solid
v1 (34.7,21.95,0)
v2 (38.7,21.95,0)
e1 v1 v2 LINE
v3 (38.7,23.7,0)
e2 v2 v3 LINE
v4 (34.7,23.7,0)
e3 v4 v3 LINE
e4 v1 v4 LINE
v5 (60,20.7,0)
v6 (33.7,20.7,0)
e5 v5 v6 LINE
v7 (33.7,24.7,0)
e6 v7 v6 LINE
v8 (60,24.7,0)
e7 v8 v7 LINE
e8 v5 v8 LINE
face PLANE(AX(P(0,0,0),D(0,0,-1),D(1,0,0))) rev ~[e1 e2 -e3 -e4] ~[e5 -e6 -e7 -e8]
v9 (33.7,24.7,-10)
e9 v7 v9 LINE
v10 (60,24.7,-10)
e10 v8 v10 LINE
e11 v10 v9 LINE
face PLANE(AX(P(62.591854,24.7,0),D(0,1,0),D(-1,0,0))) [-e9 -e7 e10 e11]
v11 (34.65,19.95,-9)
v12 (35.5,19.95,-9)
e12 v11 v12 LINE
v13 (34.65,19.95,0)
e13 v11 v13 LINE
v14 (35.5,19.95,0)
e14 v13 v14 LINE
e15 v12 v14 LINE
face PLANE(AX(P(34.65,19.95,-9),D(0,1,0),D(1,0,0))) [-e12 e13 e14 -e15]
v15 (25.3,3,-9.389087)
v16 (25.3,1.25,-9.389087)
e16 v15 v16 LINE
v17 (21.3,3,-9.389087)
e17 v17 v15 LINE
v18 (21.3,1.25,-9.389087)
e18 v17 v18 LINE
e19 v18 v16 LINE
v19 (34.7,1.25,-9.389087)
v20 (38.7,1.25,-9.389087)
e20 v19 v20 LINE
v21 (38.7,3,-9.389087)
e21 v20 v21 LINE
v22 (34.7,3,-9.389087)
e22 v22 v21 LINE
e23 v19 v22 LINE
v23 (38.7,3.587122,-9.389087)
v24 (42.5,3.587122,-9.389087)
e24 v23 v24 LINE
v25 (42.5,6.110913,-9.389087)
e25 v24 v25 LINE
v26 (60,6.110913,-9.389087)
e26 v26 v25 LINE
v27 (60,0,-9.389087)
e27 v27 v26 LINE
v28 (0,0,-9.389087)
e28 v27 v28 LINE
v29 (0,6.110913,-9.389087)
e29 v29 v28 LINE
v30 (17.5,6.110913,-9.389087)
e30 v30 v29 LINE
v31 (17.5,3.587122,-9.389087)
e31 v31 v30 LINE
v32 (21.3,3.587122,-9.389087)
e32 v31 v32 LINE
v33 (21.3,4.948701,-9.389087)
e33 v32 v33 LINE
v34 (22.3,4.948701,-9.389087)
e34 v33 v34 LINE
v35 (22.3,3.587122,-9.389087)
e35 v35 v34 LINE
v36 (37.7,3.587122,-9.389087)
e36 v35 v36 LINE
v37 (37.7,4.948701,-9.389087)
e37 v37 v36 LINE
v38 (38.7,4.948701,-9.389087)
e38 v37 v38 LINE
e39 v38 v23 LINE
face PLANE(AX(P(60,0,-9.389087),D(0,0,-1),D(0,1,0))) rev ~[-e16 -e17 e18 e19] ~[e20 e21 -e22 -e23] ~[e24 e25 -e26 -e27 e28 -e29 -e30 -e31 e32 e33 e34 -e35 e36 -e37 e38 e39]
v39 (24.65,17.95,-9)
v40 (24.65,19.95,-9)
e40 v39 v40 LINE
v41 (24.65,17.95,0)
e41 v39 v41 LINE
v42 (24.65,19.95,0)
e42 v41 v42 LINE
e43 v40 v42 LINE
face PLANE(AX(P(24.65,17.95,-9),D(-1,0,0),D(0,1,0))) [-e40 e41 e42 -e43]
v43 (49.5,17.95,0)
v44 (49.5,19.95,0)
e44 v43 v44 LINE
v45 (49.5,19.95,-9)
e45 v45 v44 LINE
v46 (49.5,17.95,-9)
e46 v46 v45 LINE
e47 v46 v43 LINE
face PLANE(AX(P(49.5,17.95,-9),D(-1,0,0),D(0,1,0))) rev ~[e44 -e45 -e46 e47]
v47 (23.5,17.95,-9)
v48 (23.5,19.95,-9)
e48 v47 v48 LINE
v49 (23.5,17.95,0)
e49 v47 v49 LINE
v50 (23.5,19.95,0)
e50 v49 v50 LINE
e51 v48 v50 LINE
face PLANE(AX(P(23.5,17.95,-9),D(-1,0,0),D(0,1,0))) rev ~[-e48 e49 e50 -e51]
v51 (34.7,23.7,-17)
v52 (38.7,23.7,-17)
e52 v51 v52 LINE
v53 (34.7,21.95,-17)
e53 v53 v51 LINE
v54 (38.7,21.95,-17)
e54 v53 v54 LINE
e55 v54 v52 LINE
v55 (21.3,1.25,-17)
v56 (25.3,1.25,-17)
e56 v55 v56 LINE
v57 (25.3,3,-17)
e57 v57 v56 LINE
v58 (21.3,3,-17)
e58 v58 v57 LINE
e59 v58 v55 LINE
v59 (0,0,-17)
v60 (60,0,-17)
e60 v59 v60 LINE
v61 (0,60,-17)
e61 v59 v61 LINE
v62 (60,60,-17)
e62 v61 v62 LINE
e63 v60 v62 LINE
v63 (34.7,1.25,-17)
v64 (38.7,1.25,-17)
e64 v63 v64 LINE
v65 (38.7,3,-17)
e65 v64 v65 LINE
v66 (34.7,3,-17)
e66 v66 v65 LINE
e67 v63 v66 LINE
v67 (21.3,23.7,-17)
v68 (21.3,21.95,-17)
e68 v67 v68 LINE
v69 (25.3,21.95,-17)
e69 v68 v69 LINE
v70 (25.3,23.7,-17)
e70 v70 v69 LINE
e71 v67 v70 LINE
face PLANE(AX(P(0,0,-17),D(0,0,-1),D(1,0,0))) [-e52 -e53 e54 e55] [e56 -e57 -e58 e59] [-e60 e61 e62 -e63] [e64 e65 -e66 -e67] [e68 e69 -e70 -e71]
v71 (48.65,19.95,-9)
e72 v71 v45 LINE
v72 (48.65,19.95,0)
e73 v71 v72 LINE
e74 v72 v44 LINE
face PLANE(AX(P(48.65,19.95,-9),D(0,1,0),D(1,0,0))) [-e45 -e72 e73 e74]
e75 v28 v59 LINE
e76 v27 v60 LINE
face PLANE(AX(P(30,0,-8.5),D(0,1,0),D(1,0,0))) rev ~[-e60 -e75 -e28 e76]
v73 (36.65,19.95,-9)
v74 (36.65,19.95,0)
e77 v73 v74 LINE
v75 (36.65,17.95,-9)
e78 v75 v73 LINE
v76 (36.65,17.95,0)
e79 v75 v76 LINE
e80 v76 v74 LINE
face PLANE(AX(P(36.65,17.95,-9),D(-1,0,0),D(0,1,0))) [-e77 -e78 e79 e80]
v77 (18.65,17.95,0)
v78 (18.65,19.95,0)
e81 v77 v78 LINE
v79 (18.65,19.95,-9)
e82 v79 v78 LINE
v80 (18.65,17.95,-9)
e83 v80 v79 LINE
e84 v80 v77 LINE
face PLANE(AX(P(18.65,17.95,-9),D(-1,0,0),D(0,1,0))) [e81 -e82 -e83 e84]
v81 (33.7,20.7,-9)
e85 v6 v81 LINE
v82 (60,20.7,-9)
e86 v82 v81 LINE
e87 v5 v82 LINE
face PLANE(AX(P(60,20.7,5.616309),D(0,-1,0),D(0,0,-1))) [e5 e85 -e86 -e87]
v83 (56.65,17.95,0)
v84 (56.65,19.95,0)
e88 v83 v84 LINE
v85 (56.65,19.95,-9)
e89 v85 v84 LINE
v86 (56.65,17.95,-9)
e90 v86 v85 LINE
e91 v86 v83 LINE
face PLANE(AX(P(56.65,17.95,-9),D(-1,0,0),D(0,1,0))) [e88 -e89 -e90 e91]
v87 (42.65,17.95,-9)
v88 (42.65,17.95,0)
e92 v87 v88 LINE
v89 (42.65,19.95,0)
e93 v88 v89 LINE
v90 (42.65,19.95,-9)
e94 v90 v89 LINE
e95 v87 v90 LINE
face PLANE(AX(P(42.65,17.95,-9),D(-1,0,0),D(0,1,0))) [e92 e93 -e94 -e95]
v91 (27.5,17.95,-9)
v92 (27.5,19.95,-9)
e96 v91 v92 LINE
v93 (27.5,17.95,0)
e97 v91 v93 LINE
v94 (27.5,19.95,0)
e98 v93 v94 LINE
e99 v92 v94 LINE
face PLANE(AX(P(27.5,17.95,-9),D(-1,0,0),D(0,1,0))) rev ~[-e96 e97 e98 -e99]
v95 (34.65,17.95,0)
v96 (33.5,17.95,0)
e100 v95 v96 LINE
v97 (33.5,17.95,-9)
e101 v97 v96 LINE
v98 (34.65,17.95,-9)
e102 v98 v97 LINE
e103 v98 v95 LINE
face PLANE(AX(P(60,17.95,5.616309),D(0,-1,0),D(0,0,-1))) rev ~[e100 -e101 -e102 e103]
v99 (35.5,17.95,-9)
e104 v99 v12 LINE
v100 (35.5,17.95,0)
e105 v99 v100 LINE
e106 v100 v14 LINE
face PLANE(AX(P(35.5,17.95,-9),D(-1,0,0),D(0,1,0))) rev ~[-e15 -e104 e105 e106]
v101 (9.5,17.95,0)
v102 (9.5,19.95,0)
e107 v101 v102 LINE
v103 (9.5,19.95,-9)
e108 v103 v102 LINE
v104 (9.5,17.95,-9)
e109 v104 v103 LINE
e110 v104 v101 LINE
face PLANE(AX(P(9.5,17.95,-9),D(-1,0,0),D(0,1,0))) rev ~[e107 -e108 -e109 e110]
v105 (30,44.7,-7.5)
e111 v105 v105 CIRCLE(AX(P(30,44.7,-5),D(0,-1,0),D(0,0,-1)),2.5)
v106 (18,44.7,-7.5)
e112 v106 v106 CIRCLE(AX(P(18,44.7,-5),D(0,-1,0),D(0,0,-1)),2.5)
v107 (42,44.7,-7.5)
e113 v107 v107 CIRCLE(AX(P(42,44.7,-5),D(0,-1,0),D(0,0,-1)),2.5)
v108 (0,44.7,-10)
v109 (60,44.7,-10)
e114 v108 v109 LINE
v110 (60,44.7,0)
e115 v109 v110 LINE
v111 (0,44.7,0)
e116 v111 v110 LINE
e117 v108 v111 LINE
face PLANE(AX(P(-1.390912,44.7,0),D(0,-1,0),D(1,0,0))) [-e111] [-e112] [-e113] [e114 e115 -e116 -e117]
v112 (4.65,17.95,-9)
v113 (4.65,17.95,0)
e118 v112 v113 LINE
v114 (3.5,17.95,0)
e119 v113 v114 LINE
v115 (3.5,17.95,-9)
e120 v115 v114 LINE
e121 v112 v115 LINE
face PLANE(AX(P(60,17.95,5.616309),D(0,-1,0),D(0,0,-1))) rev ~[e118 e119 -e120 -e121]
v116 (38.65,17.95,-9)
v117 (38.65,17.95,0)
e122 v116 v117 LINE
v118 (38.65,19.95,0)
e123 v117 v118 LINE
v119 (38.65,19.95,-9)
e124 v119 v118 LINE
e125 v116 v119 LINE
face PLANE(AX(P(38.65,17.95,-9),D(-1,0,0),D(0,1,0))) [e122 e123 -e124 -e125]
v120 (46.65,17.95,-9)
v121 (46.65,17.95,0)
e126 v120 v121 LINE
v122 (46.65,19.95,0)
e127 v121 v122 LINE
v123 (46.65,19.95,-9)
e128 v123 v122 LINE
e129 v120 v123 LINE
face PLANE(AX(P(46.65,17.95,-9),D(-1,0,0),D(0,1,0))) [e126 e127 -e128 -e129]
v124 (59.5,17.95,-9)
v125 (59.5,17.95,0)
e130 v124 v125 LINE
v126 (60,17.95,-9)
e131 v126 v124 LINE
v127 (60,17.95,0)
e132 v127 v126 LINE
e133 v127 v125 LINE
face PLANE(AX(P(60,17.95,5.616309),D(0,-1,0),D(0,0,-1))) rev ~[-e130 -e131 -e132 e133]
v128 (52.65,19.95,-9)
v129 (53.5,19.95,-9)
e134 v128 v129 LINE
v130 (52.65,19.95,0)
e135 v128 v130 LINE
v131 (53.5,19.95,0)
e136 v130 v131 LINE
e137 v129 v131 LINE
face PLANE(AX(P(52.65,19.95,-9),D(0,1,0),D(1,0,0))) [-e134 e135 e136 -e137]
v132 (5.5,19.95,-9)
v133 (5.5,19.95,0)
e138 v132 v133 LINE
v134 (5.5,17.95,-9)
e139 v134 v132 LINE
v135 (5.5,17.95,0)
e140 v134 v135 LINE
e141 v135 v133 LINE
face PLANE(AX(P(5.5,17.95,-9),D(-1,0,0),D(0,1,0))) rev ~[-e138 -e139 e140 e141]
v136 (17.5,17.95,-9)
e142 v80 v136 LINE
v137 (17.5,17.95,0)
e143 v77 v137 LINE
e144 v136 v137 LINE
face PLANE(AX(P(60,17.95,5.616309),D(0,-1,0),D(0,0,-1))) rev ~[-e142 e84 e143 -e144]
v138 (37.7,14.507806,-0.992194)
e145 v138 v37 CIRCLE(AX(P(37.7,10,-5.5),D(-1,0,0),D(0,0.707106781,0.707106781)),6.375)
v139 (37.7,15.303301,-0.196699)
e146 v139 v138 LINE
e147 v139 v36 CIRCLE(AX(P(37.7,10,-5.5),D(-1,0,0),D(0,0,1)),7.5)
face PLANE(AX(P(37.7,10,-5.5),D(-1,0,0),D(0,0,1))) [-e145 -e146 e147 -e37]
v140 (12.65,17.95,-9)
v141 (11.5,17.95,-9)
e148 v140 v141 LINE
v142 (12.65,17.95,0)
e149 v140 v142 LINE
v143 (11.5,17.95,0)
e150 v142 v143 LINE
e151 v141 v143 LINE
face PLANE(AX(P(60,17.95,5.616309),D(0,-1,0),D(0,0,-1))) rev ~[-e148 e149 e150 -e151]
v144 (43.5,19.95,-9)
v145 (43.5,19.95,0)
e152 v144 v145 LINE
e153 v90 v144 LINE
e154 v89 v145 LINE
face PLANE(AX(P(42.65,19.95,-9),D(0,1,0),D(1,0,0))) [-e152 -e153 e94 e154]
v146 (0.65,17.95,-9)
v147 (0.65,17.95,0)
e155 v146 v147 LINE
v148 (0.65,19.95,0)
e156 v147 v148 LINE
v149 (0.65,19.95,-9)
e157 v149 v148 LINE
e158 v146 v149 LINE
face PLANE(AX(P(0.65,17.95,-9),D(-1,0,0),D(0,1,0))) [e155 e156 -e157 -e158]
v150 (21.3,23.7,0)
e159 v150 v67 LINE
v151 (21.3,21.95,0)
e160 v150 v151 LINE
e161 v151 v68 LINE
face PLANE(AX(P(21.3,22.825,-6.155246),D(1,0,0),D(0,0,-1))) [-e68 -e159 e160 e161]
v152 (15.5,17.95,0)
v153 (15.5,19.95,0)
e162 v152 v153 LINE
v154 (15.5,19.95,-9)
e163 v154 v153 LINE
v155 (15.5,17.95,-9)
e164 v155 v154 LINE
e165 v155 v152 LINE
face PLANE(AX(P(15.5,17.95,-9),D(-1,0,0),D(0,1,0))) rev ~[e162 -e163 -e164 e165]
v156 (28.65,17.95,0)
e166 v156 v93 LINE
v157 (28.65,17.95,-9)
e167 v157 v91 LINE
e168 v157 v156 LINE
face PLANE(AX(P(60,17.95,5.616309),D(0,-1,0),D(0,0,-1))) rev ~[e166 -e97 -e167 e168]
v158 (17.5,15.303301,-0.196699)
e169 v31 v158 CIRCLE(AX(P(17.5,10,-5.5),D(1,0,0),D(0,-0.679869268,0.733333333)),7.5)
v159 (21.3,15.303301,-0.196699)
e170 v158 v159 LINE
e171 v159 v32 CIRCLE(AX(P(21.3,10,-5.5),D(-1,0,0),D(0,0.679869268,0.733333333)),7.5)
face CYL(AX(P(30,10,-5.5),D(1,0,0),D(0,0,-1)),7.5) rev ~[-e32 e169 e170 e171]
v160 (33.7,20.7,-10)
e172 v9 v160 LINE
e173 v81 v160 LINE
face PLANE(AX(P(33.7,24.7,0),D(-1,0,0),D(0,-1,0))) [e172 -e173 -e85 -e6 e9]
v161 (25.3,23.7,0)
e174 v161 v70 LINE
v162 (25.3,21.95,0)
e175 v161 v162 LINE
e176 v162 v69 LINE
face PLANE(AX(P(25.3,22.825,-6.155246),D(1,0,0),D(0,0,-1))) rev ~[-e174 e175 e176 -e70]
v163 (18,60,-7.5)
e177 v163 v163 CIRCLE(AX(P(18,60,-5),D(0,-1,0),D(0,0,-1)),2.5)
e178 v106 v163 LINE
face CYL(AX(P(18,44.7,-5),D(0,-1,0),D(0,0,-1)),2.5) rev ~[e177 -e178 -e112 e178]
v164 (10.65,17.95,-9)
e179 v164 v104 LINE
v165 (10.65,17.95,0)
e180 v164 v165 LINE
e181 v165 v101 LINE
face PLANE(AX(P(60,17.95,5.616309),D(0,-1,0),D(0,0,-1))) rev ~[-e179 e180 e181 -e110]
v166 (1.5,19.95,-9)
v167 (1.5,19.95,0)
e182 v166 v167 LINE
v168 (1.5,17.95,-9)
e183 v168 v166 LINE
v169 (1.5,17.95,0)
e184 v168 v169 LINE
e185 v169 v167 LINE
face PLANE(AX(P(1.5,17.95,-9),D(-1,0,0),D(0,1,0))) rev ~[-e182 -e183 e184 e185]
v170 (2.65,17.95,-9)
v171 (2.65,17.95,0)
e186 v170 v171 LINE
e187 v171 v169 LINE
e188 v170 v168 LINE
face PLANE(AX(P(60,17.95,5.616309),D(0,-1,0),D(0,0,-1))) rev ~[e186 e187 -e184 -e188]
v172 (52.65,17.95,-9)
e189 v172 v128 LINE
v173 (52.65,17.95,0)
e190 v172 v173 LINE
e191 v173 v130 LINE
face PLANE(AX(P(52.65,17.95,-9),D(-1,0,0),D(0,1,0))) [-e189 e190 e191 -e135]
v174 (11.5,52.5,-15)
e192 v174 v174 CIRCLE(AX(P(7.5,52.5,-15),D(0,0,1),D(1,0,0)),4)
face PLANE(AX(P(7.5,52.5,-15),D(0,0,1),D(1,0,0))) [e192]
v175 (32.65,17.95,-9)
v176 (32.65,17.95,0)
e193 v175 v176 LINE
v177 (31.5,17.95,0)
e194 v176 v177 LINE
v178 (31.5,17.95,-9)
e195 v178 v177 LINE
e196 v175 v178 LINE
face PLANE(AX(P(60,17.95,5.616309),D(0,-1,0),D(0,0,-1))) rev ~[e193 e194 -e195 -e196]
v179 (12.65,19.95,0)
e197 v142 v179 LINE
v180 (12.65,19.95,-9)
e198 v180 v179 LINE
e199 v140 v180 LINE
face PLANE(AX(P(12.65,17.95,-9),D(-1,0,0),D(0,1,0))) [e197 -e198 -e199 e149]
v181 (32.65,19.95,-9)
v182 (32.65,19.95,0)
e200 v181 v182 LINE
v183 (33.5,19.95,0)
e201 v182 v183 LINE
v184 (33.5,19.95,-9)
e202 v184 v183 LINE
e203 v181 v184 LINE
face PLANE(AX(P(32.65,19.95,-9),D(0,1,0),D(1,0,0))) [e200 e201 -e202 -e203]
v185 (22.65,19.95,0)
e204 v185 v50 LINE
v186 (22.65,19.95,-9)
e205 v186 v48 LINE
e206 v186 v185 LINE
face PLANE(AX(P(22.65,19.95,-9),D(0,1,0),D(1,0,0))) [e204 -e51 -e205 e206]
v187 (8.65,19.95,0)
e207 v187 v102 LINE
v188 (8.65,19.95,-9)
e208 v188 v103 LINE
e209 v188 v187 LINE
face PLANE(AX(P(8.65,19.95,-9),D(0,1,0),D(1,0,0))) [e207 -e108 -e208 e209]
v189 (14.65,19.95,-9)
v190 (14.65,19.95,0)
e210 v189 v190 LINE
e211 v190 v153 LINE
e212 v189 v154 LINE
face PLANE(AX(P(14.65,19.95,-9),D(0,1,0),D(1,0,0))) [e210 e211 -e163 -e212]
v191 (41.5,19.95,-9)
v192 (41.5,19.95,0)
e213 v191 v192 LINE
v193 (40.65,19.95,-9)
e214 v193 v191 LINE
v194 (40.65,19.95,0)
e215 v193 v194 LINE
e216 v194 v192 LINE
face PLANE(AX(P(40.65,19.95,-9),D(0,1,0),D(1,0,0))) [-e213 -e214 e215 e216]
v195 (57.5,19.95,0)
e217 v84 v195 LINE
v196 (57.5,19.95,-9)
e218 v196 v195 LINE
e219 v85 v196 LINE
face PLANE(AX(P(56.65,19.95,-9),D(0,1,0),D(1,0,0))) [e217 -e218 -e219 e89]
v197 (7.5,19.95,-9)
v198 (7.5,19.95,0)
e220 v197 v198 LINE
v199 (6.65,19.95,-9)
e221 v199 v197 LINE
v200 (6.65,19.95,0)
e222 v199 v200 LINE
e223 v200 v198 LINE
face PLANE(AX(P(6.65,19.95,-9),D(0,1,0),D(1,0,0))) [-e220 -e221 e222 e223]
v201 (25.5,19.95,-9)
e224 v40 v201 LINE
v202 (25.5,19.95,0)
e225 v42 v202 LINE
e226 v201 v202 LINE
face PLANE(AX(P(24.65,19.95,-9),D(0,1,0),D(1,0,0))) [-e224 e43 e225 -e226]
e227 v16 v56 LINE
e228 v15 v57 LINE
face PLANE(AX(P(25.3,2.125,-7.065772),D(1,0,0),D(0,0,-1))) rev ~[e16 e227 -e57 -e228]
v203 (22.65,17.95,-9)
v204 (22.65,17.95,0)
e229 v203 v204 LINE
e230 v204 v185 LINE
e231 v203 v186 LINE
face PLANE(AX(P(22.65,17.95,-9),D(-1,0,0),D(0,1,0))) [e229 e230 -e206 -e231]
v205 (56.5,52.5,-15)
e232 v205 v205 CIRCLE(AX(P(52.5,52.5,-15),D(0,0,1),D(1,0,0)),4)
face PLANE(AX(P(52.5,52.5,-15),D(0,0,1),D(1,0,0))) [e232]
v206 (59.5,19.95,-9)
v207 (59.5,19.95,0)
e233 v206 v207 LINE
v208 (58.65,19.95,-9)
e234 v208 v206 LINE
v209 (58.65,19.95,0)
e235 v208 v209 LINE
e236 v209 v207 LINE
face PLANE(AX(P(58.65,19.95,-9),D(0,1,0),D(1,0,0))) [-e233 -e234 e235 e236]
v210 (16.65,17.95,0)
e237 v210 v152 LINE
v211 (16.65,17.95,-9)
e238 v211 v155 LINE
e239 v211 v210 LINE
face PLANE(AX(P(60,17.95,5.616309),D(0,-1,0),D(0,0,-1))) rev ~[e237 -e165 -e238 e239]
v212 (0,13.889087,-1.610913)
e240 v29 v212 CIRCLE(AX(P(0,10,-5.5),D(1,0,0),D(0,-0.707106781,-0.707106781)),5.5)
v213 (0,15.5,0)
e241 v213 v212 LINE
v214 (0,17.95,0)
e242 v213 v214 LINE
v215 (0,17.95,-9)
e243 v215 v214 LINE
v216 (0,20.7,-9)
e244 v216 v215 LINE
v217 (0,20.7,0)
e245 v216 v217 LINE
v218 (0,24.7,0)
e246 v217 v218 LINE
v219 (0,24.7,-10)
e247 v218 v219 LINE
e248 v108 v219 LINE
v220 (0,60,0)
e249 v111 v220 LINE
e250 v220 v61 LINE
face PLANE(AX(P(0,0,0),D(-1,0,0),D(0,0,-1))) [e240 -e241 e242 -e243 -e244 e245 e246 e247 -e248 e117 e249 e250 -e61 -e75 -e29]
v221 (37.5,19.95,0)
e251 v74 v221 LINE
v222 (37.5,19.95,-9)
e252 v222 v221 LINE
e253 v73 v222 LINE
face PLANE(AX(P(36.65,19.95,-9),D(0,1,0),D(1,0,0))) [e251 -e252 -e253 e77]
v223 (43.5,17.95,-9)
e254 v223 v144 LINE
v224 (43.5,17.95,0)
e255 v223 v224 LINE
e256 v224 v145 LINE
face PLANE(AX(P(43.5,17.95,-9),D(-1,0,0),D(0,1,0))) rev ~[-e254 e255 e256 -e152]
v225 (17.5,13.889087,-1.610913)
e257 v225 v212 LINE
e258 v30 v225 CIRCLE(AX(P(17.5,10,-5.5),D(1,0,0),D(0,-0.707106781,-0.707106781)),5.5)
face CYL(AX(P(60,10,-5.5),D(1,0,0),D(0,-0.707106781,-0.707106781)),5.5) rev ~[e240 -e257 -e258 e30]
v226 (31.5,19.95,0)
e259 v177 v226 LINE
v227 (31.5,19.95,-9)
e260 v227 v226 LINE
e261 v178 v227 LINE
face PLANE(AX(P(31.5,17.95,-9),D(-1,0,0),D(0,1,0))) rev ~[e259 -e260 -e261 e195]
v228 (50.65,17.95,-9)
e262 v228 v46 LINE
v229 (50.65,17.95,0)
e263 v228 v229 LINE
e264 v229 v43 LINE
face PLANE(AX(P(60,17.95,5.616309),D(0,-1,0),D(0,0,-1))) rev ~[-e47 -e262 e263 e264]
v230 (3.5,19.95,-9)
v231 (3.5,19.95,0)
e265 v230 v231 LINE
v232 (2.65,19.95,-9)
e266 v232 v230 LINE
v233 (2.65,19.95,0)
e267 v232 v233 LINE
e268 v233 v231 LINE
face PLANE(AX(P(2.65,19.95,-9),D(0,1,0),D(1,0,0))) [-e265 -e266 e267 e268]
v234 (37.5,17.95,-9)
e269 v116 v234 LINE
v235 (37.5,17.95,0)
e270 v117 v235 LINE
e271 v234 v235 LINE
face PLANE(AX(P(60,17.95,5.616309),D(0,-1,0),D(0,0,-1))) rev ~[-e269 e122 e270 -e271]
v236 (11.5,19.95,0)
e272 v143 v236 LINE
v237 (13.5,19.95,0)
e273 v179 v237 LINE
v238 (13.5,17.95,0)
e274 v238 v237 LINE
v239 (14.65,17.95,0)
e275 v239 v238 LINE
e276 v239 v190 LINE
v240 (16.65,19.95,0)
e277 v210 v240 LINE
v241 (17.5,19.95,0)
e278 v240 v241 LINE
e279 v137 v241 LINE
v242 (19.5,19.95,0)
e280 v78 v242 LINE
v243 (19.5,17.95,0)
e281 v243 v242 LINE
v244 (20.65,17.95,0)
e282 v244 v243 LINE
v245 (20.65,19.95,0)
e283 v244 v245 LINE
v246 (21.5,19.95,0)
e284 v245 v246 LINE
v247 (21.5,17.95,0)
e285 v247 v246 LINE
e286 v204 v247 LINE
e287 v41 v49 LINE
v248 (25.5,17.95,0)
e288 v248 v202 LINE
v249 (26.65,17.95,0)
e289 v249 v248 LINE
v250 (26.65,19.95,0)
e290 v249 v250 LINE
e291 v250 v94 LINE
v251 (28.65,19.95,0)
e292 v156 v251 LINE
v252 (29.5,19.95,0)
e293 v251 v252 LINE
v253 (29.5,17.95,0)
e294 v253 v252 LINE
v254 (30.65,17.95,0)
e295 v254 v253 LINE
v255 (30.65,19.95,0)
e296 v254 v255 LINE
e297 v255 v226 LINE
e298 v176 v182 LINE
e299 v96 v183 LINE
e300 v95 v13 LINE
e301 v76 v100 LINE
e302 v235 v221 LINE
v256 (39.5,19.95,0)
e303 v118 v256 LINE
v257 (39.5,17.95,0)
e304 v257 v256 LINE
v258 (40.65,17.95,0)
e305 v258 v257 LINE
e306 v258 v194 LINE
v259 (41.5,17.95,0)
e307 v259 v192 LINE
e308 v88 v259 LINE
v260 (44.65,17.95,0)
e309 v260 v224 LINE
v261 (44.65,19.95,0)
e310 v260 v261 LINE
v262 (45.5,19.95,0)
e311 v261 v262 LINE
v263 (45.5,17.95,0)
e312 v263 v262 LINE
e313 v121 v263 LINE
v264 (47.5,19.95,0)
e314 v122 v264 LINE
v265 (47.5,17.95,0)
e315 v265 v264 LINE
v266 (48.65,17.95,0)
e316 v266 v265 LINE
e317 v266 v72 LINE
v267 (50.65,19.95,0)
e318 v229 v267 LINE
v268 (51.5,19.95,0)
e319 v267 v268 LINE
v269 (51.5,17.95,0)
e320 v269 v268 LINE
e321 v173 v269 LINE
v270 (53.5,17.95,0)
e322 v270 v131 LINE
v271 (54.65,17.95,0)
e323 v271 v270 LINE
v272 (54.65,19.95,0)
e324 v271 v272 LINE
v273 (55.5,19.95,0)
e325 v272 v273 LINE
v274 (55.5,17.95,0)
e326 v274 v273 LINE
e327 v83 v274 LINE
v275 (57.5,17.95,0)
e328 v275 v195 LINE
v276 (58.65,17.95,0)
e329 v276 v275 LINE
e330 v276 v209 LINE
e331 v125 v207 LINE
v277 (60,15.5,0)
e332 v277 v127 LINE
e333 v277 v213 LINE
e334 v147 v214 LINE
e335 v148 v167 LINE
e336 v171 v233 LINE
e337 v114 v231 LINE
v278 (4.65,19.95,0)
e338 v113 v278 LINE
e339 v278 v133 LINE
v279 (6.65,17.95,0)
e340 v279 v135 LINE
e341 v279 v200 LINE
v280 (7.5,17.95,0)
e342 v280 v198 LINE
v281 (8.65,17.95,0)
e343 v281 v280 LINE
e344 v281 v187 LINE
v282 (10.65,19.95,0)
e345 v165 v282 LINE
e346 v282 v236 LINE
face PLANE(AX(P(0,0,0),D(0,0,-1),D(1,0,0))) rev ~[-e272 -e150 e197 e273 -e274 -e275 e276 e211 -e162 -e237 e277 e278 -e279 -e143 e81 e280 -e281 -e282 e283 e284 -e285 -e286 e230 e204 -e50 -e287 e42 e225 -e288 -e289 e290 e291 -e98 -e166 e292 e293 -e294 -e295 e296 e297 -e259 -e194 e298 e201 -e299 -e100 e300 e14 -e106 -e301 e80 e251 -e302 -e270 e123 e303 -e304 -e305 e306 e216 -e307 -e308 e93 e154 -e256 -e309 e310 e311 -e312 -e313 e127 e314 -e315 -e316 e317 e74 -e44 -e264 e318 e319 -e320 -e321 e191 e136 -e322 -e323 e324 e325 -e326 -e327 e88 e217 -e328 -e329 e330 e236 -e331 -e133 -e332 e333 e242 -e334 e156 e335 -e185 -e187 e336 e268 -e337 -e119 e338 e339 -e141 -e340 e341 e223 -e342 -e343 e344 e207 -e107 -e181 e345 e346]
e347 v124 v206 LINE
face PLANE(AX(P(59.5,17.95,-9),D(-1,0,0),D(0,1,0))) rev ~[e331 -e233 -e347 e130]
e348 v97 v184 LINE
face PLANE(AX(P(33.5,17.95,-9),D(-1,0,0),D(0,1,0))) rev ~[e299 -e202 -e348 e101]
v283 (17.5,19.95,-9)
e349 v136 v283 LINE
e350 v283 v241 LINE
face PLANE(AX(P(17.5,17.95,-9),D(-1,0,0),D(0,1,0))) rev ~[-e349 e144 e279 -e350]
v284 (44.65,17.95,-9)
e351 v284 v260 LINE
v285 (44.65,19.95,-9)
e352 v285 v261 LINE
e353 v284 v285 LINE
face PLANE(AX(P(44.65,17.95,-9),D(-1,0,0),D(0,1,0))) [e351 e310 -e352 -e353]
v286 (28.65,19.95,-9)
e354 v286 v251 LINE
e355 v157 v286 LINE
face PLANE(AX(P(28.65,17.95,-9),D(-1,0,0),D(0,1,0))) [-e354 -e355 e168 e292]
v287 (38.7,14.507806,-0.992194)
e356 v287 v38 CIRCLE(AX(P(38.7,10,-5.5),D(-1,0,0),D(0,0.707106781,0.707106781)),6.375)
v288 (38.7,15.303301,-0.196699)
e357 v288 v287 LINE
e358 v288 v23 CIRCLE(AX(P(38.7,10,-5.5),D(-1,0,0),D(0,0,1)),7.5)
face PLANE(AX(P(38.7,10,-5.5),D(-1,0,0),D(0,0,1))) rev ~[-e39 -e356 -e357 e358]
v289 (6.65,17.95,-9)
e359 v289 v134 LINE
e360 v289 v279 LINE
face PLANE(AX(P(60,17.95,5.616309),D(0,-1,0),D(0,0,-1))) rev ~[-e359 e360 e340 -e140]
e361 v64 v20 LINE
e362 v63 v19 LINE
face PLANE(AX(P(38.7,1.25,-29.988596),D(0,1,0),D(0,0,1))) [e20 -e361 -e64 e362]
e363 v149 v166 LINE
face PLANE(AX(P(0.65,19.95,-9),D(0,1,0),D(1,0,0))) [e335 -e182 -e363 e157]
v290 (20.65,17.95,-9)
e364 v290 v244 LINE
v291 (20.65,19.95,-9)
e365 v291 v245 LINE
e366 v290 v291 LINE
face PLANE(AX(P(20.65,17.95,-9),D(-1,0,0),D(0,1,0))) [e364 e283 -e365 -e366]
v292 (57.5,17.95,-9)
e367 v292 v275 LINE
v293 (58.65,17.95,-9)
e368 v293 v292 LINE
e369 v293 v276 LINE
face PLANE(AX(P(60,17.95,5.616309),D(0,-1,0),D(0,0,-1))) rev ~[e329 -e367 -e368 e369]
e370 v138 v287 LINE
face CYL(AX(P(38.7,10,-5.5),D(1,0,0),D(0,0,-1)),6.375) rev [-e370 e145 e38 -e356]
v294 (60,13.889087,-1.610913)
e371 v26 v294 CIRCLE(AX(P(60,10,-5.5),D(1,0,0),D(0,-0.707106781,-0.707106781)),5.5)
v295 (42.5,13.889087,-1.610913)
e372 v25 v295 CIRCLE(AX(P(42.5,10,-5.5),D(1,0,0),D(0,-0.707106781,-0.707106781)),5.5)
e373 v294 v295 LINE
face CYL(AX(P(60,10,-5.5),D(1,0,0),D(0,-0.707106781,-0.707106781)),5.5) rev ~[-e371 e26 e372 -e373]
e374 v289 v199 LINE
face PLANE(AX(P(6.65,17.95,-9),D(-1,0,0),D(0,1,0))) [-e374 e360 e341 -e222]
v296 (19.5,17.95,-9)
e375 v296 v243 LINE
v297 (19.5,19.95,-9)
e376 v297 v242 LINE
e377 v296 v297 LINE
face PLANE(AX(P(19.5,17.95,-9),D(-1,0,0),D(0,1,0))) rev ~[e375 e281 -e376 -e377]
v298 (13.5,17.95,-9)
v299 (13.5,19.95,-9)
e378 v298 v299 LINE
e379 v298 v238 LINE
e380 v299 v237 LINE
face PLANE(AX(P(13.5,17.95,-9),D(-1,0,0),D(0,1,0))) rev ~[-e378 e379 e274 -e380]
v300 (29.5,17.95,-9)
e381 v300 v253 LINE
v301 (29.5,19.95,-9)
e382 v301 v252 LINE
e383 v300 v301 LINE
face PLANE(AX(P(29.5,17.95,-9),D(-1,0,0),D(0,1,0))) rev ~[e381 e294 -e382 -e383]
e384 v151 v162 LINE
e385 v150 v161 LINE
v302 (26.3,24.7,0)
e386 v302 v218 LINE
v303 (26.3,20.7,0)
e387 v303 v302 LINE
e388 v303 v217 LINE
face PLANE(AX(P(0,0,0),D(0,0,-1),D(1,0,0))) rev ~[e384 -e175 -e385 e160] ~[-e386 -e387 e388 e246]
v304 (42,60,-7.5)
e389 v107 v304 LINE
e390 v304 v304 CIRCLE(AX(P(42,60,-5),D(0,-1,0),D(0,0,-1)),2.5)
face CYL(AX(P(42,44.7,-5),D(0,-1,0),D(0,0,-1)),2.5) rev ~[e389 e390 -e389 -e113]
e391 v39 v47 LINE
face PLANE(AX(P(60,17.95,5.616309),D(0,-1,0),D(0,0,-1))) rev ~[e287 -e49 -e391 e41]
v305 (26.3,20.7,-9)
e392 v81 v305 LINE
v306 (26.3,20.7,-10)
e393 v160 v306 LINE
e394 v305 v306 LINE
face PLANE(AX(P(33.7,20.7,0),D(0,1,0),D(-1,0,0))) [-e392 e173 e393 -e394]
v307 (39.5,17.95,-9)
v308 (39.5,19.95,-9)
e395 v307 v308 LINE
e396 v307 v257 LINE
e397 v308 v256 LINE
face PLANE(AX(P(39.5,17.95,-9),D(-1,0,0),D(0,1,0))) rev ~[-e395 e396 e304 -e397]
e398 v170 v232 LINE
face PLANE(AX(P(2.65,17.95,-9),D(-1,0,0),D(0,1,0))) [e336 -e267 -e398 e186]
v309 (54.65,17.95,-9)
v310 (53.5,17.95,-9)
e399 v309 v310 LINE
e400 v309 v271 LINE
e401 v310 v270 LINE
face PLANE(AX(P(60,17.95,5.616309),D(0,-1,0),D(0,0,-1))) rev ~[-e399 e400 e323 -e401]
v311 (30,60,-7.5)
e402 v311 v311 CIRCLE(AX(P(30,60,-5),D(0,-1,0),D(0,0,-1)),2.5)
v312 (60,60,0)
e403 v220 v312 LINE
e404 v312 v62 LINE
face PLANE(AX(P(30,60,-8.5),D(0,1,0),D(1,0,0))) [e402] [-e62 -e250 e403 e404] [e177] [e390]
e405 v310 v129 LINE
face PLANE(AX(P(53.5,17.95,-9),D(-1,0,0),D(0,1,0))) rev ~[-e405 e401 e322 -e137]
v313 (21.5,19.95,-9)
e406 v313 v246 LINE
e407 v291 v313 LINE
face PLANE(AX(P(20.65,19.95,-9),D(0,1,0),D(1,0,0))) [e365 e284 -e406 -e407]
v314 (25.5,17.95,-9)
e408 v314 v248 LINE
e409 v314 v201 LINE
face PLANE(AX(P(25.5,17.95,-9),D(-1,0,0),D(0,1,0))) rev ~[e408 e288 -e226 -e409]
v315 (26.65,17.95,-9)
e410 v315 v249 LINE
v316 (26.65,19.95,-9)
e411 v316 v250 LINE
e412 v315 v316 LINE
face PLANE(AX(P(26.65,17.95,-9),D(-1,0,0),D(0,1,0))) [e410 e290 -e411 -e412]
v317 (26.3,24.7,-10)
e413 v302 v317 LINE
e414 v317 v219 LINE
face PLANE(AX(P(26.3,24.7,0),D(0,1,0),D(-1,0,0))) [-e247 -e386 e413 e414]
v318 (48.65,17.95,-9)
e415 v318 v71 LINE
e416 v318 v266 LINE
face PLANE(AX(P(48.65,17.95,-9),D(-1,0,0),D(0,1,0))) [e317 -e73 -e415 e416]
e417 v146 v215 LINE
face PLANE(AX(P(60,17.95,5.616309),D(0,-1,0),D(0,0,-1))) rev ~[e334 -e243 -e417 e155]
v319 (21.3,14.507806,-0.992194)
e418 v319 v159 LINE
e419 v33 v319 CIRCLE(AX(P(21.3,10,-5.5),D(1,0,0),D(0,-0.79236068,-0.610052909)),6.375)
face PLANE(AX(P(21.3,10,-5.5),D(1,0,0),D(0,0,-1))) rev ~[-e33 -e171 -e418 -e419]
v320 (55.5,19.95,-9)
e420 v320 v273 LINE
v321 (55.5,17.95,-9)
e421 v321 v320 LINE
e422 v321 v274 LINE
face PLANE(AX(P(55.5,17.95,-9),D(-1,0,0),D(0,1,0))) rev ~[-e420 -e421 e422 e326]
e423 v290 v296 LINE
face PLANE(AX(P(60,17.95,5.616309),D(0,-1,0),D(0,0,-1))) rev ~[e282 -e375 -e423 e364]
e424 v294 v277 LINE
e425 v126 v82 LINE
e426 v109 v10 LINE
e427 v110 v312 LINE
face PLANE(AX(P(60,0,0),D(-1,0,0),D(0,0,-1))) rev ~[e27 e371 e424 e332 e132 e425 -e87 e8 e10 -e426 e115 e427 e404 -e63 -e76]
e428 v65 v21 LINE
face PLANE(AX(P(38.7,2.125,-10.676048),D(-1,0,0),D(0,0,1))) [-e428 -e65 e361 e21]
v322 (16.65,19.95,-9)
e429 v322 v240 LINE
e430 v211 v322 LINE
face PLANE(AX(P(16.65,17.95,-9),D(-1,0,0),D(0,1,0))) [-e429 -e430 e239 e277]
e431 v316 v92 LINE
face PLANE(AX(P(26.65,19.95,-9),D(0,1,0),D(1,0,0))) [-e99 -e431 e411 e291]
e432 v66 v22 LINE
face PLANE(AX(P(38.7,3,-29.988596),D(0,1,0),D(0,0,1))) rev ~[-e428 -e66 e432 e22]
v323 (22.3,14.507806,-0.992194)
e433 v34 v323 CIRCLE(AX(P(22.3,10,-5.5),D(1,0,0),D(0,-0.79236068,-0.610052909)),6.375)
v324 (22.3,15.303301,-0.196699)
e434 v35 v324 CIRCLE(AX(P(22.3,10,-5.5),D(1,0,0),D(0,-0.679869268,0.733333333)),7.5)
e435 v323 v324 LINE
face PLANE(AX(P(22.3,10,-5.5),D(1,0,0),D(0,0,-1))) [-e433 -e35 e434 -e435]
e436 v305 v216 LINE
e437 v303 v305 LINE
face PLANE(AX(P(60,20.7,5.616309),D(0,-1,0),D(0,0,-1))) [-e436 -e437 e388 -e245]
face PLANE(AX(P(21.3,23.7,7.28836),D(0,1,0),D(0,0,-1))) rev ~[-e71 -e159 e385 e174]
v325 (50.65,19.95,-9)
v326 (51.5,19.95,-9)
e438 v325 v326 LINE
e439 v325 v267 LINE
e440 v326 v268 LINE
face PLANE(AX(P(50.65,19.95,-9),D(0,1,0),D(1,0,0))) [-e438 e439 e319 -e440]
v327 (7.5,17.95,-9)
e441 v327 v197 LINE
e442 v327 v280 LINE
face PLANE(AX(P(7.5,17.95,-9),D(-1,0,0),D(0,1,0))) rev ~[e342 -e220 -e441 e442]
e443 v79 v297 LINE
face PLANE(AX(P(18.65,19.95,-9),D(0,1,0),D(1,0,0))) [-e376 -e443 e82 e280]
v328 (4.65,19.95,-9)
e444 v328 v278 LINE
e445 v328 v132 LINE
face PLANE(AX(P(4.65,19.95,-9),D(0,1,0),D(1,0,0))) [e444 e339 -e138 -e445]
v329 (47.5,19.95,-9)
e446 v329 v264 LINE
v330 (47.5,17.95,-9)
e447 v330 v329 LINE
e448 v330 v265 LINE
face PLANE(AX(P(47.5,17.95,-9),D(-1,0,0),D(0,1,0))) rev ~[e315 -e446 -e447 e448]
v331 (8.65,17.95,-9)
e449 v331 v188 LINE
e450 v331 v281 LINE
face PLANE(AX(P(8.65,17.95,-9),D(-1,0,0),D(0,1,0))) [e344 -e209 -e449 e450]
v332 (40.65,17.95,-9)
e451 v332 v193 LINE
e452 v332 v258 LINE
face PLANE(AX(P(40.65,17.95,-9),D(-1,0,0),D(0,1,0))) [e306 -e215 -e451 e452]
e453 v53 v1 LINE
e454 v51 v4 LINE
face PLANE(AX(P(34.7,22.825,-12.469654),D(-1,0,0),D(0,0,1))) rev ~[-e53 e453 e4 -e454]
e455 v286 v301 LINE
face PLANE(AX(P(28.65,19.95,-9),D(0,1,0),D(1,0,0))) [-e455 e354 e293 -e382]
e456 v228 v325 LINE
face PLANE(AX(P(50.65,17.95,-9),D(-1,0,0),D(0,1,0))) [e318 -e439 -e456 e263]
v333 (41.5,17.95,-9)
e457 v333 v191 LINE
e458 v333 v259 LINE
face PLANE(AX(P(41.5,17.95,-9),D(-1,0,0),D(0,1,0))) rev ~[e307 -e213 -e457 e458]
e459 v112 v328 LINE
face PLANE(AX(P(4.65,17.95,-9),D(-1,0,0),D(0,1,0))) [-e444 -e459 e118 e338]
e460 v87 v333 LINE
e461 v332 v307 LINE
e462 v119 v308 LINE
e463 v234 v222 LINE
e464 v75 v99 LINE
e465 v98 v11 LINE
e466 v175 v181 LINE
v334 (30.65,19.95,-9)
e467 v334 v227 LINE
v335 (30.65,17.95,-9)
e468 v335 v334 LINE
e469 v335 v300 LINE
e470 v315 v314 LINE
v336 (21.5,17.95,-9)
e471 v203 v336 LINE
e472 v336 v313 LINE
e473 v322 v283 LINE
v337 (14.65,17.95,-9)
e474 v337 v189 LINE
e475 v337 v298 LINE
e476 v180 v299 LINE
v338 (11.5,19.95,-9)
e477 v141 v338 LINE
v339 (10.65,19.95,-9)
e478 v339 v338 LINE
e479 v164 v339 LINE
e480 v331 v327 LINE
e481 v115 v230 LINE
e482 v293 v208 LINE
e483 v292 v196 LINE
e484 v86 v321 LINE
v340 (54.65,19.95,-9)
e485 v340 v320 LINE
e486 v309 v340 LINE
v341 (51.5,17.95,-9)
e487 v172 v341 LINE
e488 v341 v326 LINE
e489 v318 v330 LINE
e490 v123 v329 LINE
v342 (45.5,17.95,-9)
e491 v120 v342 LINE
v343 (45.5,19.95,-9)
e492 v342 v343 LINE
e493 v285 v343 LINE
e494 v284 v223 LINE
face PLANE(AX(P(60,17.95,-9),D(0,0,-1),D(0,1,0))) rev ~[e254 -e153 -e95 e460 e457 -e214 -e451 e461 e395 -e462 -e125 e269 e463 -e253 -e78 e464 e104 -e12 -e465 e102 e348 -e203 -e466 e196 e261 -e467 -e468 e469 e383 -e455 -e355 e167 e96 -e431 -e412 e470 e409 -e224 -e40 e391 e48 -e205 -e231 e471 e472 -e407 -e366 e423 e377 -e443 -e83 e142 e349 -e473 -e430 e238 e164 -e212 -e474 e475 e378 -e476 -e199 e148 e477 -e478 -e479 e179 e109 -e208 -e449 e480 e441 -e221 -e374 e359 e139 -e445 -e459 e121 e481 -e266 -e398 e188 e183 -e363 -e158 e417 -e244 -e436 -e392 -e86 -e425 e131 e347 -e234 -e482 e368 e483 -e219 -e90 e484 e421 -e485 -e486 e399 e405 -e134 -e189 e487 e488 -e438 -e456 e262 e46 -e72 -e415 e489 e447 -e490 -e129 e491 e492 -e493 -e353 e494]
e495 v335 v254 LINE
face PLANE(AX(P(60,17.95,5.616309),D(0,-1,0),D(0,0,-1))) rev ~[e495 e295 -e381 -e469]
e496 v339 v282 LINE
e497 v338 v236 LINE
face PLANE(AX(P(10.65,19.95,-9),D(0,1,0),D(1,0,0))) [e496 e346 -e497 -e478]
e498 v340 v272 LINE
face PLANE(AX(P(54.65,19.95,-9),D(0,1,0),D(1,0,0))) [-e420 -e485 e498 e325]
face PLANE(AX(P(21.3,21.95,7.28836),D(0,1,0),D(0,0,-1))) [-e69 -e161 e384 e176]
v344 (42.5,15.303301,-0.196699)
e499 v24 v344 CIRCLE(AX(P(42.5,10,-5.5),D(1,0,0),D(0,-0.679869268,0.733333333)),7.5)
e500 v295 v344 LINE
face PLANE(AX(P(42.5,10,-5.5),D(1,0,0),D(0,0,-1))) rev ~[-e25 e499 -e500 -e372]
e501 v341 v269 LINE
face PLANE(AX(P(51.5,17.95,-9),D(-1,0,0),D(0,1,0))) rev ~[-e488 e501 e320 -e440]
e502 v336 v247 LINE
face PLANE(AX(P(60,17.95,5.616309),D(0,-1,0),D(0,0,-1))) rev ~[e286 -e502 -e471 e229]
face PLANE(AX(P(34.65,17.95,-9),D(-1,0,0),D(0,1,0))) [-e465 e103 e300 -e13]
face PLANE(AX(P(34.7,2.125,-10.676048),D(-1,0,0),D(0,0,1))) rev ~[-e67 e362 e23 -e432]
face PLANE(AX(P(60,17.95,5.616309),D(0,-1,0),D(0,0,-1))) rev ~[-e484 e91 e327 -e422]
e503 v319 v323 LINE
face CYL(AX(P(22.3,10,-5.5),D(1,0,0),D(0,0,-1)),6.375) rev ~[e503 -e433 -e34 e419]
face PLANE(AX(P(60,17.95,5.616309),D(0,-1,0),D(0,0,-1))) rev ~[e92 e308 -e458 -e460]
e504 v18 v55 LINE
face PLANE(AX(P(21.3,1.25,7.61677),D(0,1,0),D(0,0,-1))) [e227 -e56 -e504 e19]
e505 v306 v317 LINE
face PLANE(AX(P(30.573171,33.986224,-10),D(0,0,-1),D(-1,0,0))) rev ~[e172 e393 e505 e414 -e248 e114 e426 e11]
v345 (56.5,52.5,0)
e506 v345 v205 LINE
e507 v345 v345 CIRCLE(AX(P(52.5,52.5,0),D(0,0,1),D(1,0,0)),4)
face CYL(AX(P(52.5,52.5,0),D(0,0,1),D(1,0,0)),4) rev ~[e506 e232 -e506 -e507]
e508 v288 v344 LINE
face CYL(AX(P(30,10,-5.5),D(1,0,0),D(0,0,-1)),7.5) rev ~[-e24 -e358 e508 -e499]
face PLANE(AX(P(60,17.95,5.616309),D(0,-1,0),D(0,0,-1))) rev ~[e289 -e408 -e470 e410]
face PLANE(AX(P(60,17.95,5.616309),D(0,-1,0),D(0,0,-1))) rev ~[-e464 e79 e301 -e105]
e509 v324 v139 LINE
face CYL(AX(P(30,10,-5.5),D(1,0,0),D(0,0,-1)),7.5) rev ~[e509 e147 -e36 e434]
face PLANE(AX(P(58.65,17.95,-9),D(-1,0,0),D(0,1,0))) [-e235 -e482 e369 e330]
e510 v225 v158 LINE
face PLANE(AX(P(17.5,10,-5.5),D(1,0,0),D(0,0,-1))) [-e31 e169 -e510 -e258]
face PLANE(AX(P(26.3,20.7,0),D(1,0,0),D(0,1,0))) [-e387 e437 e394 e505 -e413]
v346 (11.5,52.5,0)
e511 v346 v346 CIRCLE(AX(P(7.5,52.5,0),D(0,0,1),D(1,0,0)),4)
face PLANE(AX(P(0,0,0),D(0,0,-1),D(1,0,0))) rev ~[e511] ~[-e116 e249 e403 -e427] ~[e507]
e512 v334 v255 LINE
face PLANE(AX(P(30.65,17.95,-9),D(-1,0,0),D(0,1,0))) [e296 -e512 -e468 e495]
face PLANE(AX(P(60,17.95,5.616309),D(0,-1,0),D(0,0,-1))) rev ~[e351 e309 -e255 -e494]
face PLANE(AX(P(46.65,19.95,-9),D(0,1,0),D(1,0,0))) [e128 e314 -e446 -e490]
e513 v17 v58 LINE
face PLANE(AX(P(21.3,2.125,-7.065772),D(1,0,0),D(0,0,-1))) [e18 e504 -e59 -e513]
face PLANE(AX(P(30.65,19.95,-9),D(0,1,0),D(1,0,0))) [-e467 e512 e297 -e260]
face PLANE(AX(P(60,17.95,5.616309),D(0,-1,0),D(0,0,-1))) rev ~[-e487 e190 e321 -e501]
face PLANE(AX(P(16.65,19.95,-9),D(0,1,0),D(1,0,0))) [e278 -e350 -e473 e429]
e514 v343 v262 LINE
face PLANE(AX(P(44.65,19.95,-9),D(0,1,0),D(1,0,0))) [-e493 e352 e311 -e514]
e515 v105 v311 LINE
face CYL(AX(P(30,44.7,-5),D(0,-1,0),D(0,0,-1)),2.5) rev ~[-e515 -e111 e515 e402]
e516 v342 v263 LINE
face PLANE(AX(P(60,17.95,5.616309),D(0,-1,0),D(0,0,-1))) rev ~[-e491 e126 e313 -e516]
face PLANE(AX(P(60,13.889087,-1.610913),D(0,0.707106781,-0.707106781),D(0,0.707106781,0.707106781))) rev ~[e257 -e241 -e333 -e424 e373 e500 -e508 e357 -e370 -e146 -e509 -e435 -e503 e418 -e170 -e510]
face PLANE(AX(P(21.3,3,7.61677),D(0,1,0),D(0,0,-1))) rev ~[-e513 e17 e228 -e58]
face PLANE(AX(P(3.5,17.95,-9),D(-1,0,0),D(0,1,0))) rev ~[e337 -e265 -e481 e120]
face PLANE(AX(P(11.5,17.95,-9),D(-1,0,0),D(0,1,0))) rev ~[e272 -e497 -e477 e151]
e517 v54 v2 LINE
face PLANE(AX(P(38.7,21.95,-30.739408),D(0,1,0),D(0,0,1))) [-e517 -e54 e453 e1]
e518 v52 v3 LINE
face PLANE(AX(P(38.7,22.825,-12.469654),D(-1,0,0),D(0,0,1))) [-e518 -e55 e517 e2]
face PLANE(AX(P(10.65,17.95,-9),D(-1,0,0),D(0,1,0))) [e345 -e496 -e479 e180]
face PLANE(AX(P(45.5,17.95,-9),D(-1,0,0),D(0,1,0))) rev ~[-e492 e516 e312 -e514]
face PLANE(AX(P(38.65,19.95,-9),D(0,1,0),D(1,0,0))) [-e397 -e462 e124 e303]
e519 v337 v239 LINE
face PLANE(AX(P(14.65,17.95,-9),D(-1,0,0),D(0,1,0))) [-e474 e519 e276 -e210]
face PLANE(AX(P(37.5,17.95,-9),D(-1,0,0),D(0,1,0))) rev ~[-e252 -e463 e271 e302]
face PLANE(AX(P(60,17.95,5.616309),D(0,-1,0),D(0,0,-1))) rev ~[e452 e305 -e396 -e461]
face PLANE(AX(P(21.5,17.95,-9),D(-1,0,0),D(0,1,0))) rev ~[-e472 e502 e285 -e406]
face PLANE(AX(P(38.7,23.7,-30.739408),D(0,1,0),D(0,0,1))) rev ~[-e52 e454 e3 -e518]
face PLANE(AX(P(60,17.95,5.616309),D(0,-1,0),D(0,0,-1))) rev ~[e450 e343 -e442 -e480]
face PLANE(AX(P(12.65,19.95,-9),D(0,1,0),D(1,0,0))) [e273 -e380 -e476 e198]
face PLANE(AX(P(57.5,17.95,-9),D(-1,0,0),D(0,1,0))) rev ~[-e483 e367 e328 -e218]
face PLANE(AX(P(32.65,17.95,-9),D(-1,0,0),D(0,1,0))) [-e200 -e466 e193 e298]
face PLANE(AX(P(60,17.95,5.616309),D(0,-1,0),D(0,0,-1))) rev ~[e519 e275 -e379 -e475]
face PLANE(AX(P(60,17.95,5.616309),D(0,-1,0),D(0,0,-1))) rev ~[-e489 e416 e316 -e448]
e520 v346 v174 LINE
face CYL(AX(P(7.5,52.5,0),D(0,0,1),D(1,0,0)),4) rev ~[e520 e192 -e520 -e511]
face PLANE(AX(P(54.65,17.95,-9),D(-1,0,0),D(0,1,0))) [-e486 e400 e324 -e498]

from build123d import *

# Parameters (mm, degrees)
SKETCH1_W           = 60
SKETCH1_H           = 17
BOSS_EXTRUDE2_DEPTH = 60
SKETCH5_R           = 7.5
CUT_EXTRUDE3_DEPTH  = 12.5
BOSS_EXTRUDE5_START = 1
SKETCH7_R           = 7.5
SKETCH7_R_2         = 6.375
BOSS_EXTRUDE5_DEPTH = 1
SKETCH8_R           = 7.5
SKETCH8_R_2         = 6.375
BOSS_EXTRUDE6_DEPTH = 1
SKETCH3_W           = 14.616308542
SKETCH3_H           = 2.75
CUT_EXTRUDE2_DEPTH  = 87.539008545
SKETCH9_W           = 29.365083629
SKETCH9_H           = 1.75
SKETCH9_W_2         = 26.887211927
CUT_EXTRUDE4_DEPTH  = 4
SKETCH10_W          = 36.539507471
SKETCH10_H          = 1.75
SKETCH10_W_2        = 38.625095797
CUT_EXTRUDE5_DEPTH  = 4
SKETCH12_W          = 0.85
SKETCH12_H          = 2
BOSS_EXTRUDE7_DEPTH = 9
CUT_EXTRUDE6_DEPTH  = 10
SKETCH14_R          = 4
CUT_EXTRUDE7_DEPTH  = 15
SKETCH15_R          = 2.5
CUT_EXTRUDE8_DEPTH  = 15.3


with BuildPart() as part:
    # Sketch1 → Boss-Extrude2 (new body)
    with BuildSketch(Plane(origin=(0, 0, 0), x_dir=(1, 0, 0), z_dir=(0, 1, 0))):
        with Locations((30, 8.5)):
            Rectangle(SKETCH1_W, SKETCH1_H)
    extrude(amount=BOSS_EXTRUDE2_DEPTH)

    # Sketch5 → Cut-Extrude3 (cut, symmetric)
    with BuildSketch(Plane(origin=(30, 0, 0), x_dir=(0, 0, -1), z_dir=(1, 0, 0))):
        with Locations((5.5, 10)):
            Circle(SKETCH5_R)
    extrude(amount=CUT_EXTRUDE3_DEPTH, both=True, mode=Mode.SUBTRACT)

    # Sketch7 → Boss-Extrude5 (add)
    with BuildSketch(Plane(origin=(21.3, 0, 0), x_dir=(0, 0, -1), z_dir=(1, 0, 0)).offset(BOSS_EXTRUDE5_START)):
        with Locations((5.5, 10)):
            Circle(SKETCH7_R)
        with Locations((5.5, 10)):
            Circle(SKETCH7_R_2, mode=Mode.SUBTRACT)
    extrude(amount=-BOSS_EXTRUDE5_DEPTH)

    # Sketch8 → Boss-Extrude6 (add)
    with BuildSketch(Plane.ZY.offset(-38.7)):
        with Locations((-5.5, 10)):
            Circle(SKETCH8_R)
        with Locations(Location((-5.5, 10, 0), (0, 0, 180))):
            Circle(SKETCH8_R_2, mode=Mode.SUBTRACT)
    extrude(amount=BOSS_EXTRUDE6_DEPTH)

    # Sketch3 → Cut-Extrude2 (cut, through all)
    with BuildSketch(Plane(origin=(60, 0, 0), x_dir=(0, 0, -1), z_dir=(1, 0, 0))):
        with BuildLine():
            Line((0, 15.5), (-6.640665203, 15.5))
            Line((-6.640665203, 15.5), (-6.640665203, 0))
            Line((-6.640665203, 0), (0, 0))
            Line((0, 0), (9.389087297, 0))
            Line((9.389087297, 0), (9.389087297, 6.110912703))
            ThreePointArc((9.389087297, 6.110912703), (9.389087297, 13.889087297), (1.610912703, 13.889087297))
            Line((1.610912703, 13.889087297), (0, 15.5))
        make_face()
        with Locations((1.691845729, 19.325)):
            Rectangle(SKETCH3_W, SKETCH3_H)
    extrude(amount=-CUT_EXTRUDE2_DEPTH, mode=Mode.SUBTRACT)

    # Sketch9 → Cut-Extrude4 (cut)
    with BuildSketch(Plane(origin=(21.3, 0, 0), x_dir=(0, 0, -1), z_dir=(1, 0, 0))):
        with Locations((7.065771792, 2.125)):
            Rectangle(SKETCH9_W, SKETCH9_H)
        with Locations((6.15524604, 22.825)):
            Rectangle(SKETCH9_W_2, SKETCH9_H)
    extrude(amount=CUT_EXTRUDE4_DEPTH, mode=Mode.SUBTRACT)

    # Sketch10 → Cut-Extrude5 (cut)
    with BuildSketch(Plane.ZY.offset(-38.7)):
        with Locations((-12.469654385, 22.825)):
            Rectangle(SKETCH10_W, SKETCH10_H)
        with Locations((-10.676048425, 2.125)):
            Rectangle(SKETCH10_W_2, SKETCH10_H)
    extrude(amount=CUT_EXTRUDE5_DEPTH, mode=Mode.SUBTRACT)

    # Sketch12 → Boss-Extrude7 (add)
    with BuildSketch(Plane.XY.offset(-9)):
        with Locations((59.075, 18.95)):
            Rectangle(SKETCH12_W, SKETCH12_H)
        with Locations((57.075, 18.95)):
            Rectangle(SKETCH12_W, SKETCH12_H)
        with Locations((55.075, 18.95)):
            Rectangle(SKETCH12_W, SKETCH12_H)
        with Locations((53.075, 18.95)):
            Rectangle(SKETCH12_W, SKETCH12_H)
        with Locations((51.075, 18.95)):
            Rectangle(SKETCH12_W, SKETCH12_H)
        with Locations((49.075, 18.95)):
            Rectangle(SKETCH12_W, SKETCH12_H)
        with Locations((47.075, 18.95)):
            Rectangle(SKETCH12_W, SKETCH12_H)
        with Locations((45.075, 18.95)):
            Rectangle(SKETCH12_W, SKETCH12_H)
        with Locations((43.075, 18.95)):
            Rectangle(SKETCH12_W, SKETCH12_H)
        with Locations((41.075, 18.95)):
            Rectangle(SKETCH12_W, SKETCH12_H)
        with Locations((39.075, 18.95)):
            Rectangle(SKETCH12_W, SKETCH12_H)
        with Locations((37.075, 18.95)):
            Rectangle(SKETCH12_W, SKETCH12_H)
        with Locations((35.075, 18.95)):
            Rectangle(SKETCH12_W, SKETCH12_H)
        with Locations((33.075, 18.95)):
            Rectangle(SKETCH12_W, SKETCH12_H)
        with Locations((31.075, 18.95)):
            Rectangle(SKETCH12_W, SKETCH12_H)
        with Locations((29.075, 18.95)):
            Rectangle(SKETCH12_W, SKETCH12_H)
        with Locations((27.075, 18.95)):
            Rectangle(SKETCH12_W, SKETCH12_H)
        with Locations((25.075, 18.95)):
            Rectangle(SKETCH12_W, SKETCH12_H)
        with Locations((23.075, 18.95)):
            Rectangle(SKETCH12_W, SKETCH12_H)
        with Locations((21.075, 18.95)):
            Rectangle(SKETCH12_W, SKETCH12_H)
        with Locations((19.075, 18.95)):
            Rectangle(SKETCH12_W, SKETCH12_H)
        with Locations((17.075, 18.95)):
            Rectangle(SKETCH12_W, SKETCH12_H)
        with Locations((15.075, 18.95)):
            Rectangle(SKETCH12_W, SKETCH12_H)
        with Locations((13.075, 18.95)):
            Rectangle(SKETCH12_W, SKETCH12_H)
        with Locations((11.075, 18.95)):
            Rectangle(SKETCH12_W, SKETCH12_H)
        with Locations((9.075, 18.95)):
            Rectangle(SKETCH12_W, SKETCH12_H)
        with Locations((7.075, 18.95)):
            Rectangle(SKETCH12_W, SKETCH12_H)
        with Locations((5.075, 18.95)):
            Rectangle(SKETCH12_W, SKETCH12_H)
        with Locations((3.075, 18.95)):
            Rectangle(SKETCH12_W, SKETCH12_H)
        with Locations((1.075, 18.95)):
            Rectangle(SKETCH12_W, SKETCH12_H)
    extrude(amount=BOSS_EXTRUDE7_DEPTH)

    # Sketch13 → Cut-Extrude6 (cut)
    with BuildSketch(Plane.XY):
        Polygon((33.7, 24.7), (33.7, 20.7), (26.3, 20.7), (26.3, 24.7), (-1.390912484, 24.7), (-1.390912484, 44.7), (62.591854088, 44.7), (62.591854088, 24.7), align=None)
    extrude(amount=-CUT_EXTRUDE6_DEPTH, mode=Mode.SUBTRACT)

    # Sketch14 → Cut-Extrude7 (cut)
    with BuildSketch(Plane.XY):
        with Locations((7.5, 52.5)):
            Circle(SKETCH14_R)
        with Locations((52.5, 52.5)):
            Circle(SKETCH14_R)
    extrude(amount=-CUT_EXTRUDE7_DEPTH, mode=Mode.SUBTRACT)

    # Sketch15 → Cut-Extrude8 (cut)
    with BuildSketch(Plane.XZ.offset(-44.7)):
        with Locations(Location((30, -5, 0), (0, 0, 270))):
            Circle(SKETCH15_R)
        with Locations(Location((18, -5, 0), (0, 0, 270))):
            Circle(SKETCH15_R)
        with Locations(Location((42, -5, 0), (0, 0, 270))):
            Circle(SKETCH15_R)
    extrude(amount=-CUT_EXTRUDE8_DEPTH, mode=Mode.SUBTRACT)


solid = part.part
